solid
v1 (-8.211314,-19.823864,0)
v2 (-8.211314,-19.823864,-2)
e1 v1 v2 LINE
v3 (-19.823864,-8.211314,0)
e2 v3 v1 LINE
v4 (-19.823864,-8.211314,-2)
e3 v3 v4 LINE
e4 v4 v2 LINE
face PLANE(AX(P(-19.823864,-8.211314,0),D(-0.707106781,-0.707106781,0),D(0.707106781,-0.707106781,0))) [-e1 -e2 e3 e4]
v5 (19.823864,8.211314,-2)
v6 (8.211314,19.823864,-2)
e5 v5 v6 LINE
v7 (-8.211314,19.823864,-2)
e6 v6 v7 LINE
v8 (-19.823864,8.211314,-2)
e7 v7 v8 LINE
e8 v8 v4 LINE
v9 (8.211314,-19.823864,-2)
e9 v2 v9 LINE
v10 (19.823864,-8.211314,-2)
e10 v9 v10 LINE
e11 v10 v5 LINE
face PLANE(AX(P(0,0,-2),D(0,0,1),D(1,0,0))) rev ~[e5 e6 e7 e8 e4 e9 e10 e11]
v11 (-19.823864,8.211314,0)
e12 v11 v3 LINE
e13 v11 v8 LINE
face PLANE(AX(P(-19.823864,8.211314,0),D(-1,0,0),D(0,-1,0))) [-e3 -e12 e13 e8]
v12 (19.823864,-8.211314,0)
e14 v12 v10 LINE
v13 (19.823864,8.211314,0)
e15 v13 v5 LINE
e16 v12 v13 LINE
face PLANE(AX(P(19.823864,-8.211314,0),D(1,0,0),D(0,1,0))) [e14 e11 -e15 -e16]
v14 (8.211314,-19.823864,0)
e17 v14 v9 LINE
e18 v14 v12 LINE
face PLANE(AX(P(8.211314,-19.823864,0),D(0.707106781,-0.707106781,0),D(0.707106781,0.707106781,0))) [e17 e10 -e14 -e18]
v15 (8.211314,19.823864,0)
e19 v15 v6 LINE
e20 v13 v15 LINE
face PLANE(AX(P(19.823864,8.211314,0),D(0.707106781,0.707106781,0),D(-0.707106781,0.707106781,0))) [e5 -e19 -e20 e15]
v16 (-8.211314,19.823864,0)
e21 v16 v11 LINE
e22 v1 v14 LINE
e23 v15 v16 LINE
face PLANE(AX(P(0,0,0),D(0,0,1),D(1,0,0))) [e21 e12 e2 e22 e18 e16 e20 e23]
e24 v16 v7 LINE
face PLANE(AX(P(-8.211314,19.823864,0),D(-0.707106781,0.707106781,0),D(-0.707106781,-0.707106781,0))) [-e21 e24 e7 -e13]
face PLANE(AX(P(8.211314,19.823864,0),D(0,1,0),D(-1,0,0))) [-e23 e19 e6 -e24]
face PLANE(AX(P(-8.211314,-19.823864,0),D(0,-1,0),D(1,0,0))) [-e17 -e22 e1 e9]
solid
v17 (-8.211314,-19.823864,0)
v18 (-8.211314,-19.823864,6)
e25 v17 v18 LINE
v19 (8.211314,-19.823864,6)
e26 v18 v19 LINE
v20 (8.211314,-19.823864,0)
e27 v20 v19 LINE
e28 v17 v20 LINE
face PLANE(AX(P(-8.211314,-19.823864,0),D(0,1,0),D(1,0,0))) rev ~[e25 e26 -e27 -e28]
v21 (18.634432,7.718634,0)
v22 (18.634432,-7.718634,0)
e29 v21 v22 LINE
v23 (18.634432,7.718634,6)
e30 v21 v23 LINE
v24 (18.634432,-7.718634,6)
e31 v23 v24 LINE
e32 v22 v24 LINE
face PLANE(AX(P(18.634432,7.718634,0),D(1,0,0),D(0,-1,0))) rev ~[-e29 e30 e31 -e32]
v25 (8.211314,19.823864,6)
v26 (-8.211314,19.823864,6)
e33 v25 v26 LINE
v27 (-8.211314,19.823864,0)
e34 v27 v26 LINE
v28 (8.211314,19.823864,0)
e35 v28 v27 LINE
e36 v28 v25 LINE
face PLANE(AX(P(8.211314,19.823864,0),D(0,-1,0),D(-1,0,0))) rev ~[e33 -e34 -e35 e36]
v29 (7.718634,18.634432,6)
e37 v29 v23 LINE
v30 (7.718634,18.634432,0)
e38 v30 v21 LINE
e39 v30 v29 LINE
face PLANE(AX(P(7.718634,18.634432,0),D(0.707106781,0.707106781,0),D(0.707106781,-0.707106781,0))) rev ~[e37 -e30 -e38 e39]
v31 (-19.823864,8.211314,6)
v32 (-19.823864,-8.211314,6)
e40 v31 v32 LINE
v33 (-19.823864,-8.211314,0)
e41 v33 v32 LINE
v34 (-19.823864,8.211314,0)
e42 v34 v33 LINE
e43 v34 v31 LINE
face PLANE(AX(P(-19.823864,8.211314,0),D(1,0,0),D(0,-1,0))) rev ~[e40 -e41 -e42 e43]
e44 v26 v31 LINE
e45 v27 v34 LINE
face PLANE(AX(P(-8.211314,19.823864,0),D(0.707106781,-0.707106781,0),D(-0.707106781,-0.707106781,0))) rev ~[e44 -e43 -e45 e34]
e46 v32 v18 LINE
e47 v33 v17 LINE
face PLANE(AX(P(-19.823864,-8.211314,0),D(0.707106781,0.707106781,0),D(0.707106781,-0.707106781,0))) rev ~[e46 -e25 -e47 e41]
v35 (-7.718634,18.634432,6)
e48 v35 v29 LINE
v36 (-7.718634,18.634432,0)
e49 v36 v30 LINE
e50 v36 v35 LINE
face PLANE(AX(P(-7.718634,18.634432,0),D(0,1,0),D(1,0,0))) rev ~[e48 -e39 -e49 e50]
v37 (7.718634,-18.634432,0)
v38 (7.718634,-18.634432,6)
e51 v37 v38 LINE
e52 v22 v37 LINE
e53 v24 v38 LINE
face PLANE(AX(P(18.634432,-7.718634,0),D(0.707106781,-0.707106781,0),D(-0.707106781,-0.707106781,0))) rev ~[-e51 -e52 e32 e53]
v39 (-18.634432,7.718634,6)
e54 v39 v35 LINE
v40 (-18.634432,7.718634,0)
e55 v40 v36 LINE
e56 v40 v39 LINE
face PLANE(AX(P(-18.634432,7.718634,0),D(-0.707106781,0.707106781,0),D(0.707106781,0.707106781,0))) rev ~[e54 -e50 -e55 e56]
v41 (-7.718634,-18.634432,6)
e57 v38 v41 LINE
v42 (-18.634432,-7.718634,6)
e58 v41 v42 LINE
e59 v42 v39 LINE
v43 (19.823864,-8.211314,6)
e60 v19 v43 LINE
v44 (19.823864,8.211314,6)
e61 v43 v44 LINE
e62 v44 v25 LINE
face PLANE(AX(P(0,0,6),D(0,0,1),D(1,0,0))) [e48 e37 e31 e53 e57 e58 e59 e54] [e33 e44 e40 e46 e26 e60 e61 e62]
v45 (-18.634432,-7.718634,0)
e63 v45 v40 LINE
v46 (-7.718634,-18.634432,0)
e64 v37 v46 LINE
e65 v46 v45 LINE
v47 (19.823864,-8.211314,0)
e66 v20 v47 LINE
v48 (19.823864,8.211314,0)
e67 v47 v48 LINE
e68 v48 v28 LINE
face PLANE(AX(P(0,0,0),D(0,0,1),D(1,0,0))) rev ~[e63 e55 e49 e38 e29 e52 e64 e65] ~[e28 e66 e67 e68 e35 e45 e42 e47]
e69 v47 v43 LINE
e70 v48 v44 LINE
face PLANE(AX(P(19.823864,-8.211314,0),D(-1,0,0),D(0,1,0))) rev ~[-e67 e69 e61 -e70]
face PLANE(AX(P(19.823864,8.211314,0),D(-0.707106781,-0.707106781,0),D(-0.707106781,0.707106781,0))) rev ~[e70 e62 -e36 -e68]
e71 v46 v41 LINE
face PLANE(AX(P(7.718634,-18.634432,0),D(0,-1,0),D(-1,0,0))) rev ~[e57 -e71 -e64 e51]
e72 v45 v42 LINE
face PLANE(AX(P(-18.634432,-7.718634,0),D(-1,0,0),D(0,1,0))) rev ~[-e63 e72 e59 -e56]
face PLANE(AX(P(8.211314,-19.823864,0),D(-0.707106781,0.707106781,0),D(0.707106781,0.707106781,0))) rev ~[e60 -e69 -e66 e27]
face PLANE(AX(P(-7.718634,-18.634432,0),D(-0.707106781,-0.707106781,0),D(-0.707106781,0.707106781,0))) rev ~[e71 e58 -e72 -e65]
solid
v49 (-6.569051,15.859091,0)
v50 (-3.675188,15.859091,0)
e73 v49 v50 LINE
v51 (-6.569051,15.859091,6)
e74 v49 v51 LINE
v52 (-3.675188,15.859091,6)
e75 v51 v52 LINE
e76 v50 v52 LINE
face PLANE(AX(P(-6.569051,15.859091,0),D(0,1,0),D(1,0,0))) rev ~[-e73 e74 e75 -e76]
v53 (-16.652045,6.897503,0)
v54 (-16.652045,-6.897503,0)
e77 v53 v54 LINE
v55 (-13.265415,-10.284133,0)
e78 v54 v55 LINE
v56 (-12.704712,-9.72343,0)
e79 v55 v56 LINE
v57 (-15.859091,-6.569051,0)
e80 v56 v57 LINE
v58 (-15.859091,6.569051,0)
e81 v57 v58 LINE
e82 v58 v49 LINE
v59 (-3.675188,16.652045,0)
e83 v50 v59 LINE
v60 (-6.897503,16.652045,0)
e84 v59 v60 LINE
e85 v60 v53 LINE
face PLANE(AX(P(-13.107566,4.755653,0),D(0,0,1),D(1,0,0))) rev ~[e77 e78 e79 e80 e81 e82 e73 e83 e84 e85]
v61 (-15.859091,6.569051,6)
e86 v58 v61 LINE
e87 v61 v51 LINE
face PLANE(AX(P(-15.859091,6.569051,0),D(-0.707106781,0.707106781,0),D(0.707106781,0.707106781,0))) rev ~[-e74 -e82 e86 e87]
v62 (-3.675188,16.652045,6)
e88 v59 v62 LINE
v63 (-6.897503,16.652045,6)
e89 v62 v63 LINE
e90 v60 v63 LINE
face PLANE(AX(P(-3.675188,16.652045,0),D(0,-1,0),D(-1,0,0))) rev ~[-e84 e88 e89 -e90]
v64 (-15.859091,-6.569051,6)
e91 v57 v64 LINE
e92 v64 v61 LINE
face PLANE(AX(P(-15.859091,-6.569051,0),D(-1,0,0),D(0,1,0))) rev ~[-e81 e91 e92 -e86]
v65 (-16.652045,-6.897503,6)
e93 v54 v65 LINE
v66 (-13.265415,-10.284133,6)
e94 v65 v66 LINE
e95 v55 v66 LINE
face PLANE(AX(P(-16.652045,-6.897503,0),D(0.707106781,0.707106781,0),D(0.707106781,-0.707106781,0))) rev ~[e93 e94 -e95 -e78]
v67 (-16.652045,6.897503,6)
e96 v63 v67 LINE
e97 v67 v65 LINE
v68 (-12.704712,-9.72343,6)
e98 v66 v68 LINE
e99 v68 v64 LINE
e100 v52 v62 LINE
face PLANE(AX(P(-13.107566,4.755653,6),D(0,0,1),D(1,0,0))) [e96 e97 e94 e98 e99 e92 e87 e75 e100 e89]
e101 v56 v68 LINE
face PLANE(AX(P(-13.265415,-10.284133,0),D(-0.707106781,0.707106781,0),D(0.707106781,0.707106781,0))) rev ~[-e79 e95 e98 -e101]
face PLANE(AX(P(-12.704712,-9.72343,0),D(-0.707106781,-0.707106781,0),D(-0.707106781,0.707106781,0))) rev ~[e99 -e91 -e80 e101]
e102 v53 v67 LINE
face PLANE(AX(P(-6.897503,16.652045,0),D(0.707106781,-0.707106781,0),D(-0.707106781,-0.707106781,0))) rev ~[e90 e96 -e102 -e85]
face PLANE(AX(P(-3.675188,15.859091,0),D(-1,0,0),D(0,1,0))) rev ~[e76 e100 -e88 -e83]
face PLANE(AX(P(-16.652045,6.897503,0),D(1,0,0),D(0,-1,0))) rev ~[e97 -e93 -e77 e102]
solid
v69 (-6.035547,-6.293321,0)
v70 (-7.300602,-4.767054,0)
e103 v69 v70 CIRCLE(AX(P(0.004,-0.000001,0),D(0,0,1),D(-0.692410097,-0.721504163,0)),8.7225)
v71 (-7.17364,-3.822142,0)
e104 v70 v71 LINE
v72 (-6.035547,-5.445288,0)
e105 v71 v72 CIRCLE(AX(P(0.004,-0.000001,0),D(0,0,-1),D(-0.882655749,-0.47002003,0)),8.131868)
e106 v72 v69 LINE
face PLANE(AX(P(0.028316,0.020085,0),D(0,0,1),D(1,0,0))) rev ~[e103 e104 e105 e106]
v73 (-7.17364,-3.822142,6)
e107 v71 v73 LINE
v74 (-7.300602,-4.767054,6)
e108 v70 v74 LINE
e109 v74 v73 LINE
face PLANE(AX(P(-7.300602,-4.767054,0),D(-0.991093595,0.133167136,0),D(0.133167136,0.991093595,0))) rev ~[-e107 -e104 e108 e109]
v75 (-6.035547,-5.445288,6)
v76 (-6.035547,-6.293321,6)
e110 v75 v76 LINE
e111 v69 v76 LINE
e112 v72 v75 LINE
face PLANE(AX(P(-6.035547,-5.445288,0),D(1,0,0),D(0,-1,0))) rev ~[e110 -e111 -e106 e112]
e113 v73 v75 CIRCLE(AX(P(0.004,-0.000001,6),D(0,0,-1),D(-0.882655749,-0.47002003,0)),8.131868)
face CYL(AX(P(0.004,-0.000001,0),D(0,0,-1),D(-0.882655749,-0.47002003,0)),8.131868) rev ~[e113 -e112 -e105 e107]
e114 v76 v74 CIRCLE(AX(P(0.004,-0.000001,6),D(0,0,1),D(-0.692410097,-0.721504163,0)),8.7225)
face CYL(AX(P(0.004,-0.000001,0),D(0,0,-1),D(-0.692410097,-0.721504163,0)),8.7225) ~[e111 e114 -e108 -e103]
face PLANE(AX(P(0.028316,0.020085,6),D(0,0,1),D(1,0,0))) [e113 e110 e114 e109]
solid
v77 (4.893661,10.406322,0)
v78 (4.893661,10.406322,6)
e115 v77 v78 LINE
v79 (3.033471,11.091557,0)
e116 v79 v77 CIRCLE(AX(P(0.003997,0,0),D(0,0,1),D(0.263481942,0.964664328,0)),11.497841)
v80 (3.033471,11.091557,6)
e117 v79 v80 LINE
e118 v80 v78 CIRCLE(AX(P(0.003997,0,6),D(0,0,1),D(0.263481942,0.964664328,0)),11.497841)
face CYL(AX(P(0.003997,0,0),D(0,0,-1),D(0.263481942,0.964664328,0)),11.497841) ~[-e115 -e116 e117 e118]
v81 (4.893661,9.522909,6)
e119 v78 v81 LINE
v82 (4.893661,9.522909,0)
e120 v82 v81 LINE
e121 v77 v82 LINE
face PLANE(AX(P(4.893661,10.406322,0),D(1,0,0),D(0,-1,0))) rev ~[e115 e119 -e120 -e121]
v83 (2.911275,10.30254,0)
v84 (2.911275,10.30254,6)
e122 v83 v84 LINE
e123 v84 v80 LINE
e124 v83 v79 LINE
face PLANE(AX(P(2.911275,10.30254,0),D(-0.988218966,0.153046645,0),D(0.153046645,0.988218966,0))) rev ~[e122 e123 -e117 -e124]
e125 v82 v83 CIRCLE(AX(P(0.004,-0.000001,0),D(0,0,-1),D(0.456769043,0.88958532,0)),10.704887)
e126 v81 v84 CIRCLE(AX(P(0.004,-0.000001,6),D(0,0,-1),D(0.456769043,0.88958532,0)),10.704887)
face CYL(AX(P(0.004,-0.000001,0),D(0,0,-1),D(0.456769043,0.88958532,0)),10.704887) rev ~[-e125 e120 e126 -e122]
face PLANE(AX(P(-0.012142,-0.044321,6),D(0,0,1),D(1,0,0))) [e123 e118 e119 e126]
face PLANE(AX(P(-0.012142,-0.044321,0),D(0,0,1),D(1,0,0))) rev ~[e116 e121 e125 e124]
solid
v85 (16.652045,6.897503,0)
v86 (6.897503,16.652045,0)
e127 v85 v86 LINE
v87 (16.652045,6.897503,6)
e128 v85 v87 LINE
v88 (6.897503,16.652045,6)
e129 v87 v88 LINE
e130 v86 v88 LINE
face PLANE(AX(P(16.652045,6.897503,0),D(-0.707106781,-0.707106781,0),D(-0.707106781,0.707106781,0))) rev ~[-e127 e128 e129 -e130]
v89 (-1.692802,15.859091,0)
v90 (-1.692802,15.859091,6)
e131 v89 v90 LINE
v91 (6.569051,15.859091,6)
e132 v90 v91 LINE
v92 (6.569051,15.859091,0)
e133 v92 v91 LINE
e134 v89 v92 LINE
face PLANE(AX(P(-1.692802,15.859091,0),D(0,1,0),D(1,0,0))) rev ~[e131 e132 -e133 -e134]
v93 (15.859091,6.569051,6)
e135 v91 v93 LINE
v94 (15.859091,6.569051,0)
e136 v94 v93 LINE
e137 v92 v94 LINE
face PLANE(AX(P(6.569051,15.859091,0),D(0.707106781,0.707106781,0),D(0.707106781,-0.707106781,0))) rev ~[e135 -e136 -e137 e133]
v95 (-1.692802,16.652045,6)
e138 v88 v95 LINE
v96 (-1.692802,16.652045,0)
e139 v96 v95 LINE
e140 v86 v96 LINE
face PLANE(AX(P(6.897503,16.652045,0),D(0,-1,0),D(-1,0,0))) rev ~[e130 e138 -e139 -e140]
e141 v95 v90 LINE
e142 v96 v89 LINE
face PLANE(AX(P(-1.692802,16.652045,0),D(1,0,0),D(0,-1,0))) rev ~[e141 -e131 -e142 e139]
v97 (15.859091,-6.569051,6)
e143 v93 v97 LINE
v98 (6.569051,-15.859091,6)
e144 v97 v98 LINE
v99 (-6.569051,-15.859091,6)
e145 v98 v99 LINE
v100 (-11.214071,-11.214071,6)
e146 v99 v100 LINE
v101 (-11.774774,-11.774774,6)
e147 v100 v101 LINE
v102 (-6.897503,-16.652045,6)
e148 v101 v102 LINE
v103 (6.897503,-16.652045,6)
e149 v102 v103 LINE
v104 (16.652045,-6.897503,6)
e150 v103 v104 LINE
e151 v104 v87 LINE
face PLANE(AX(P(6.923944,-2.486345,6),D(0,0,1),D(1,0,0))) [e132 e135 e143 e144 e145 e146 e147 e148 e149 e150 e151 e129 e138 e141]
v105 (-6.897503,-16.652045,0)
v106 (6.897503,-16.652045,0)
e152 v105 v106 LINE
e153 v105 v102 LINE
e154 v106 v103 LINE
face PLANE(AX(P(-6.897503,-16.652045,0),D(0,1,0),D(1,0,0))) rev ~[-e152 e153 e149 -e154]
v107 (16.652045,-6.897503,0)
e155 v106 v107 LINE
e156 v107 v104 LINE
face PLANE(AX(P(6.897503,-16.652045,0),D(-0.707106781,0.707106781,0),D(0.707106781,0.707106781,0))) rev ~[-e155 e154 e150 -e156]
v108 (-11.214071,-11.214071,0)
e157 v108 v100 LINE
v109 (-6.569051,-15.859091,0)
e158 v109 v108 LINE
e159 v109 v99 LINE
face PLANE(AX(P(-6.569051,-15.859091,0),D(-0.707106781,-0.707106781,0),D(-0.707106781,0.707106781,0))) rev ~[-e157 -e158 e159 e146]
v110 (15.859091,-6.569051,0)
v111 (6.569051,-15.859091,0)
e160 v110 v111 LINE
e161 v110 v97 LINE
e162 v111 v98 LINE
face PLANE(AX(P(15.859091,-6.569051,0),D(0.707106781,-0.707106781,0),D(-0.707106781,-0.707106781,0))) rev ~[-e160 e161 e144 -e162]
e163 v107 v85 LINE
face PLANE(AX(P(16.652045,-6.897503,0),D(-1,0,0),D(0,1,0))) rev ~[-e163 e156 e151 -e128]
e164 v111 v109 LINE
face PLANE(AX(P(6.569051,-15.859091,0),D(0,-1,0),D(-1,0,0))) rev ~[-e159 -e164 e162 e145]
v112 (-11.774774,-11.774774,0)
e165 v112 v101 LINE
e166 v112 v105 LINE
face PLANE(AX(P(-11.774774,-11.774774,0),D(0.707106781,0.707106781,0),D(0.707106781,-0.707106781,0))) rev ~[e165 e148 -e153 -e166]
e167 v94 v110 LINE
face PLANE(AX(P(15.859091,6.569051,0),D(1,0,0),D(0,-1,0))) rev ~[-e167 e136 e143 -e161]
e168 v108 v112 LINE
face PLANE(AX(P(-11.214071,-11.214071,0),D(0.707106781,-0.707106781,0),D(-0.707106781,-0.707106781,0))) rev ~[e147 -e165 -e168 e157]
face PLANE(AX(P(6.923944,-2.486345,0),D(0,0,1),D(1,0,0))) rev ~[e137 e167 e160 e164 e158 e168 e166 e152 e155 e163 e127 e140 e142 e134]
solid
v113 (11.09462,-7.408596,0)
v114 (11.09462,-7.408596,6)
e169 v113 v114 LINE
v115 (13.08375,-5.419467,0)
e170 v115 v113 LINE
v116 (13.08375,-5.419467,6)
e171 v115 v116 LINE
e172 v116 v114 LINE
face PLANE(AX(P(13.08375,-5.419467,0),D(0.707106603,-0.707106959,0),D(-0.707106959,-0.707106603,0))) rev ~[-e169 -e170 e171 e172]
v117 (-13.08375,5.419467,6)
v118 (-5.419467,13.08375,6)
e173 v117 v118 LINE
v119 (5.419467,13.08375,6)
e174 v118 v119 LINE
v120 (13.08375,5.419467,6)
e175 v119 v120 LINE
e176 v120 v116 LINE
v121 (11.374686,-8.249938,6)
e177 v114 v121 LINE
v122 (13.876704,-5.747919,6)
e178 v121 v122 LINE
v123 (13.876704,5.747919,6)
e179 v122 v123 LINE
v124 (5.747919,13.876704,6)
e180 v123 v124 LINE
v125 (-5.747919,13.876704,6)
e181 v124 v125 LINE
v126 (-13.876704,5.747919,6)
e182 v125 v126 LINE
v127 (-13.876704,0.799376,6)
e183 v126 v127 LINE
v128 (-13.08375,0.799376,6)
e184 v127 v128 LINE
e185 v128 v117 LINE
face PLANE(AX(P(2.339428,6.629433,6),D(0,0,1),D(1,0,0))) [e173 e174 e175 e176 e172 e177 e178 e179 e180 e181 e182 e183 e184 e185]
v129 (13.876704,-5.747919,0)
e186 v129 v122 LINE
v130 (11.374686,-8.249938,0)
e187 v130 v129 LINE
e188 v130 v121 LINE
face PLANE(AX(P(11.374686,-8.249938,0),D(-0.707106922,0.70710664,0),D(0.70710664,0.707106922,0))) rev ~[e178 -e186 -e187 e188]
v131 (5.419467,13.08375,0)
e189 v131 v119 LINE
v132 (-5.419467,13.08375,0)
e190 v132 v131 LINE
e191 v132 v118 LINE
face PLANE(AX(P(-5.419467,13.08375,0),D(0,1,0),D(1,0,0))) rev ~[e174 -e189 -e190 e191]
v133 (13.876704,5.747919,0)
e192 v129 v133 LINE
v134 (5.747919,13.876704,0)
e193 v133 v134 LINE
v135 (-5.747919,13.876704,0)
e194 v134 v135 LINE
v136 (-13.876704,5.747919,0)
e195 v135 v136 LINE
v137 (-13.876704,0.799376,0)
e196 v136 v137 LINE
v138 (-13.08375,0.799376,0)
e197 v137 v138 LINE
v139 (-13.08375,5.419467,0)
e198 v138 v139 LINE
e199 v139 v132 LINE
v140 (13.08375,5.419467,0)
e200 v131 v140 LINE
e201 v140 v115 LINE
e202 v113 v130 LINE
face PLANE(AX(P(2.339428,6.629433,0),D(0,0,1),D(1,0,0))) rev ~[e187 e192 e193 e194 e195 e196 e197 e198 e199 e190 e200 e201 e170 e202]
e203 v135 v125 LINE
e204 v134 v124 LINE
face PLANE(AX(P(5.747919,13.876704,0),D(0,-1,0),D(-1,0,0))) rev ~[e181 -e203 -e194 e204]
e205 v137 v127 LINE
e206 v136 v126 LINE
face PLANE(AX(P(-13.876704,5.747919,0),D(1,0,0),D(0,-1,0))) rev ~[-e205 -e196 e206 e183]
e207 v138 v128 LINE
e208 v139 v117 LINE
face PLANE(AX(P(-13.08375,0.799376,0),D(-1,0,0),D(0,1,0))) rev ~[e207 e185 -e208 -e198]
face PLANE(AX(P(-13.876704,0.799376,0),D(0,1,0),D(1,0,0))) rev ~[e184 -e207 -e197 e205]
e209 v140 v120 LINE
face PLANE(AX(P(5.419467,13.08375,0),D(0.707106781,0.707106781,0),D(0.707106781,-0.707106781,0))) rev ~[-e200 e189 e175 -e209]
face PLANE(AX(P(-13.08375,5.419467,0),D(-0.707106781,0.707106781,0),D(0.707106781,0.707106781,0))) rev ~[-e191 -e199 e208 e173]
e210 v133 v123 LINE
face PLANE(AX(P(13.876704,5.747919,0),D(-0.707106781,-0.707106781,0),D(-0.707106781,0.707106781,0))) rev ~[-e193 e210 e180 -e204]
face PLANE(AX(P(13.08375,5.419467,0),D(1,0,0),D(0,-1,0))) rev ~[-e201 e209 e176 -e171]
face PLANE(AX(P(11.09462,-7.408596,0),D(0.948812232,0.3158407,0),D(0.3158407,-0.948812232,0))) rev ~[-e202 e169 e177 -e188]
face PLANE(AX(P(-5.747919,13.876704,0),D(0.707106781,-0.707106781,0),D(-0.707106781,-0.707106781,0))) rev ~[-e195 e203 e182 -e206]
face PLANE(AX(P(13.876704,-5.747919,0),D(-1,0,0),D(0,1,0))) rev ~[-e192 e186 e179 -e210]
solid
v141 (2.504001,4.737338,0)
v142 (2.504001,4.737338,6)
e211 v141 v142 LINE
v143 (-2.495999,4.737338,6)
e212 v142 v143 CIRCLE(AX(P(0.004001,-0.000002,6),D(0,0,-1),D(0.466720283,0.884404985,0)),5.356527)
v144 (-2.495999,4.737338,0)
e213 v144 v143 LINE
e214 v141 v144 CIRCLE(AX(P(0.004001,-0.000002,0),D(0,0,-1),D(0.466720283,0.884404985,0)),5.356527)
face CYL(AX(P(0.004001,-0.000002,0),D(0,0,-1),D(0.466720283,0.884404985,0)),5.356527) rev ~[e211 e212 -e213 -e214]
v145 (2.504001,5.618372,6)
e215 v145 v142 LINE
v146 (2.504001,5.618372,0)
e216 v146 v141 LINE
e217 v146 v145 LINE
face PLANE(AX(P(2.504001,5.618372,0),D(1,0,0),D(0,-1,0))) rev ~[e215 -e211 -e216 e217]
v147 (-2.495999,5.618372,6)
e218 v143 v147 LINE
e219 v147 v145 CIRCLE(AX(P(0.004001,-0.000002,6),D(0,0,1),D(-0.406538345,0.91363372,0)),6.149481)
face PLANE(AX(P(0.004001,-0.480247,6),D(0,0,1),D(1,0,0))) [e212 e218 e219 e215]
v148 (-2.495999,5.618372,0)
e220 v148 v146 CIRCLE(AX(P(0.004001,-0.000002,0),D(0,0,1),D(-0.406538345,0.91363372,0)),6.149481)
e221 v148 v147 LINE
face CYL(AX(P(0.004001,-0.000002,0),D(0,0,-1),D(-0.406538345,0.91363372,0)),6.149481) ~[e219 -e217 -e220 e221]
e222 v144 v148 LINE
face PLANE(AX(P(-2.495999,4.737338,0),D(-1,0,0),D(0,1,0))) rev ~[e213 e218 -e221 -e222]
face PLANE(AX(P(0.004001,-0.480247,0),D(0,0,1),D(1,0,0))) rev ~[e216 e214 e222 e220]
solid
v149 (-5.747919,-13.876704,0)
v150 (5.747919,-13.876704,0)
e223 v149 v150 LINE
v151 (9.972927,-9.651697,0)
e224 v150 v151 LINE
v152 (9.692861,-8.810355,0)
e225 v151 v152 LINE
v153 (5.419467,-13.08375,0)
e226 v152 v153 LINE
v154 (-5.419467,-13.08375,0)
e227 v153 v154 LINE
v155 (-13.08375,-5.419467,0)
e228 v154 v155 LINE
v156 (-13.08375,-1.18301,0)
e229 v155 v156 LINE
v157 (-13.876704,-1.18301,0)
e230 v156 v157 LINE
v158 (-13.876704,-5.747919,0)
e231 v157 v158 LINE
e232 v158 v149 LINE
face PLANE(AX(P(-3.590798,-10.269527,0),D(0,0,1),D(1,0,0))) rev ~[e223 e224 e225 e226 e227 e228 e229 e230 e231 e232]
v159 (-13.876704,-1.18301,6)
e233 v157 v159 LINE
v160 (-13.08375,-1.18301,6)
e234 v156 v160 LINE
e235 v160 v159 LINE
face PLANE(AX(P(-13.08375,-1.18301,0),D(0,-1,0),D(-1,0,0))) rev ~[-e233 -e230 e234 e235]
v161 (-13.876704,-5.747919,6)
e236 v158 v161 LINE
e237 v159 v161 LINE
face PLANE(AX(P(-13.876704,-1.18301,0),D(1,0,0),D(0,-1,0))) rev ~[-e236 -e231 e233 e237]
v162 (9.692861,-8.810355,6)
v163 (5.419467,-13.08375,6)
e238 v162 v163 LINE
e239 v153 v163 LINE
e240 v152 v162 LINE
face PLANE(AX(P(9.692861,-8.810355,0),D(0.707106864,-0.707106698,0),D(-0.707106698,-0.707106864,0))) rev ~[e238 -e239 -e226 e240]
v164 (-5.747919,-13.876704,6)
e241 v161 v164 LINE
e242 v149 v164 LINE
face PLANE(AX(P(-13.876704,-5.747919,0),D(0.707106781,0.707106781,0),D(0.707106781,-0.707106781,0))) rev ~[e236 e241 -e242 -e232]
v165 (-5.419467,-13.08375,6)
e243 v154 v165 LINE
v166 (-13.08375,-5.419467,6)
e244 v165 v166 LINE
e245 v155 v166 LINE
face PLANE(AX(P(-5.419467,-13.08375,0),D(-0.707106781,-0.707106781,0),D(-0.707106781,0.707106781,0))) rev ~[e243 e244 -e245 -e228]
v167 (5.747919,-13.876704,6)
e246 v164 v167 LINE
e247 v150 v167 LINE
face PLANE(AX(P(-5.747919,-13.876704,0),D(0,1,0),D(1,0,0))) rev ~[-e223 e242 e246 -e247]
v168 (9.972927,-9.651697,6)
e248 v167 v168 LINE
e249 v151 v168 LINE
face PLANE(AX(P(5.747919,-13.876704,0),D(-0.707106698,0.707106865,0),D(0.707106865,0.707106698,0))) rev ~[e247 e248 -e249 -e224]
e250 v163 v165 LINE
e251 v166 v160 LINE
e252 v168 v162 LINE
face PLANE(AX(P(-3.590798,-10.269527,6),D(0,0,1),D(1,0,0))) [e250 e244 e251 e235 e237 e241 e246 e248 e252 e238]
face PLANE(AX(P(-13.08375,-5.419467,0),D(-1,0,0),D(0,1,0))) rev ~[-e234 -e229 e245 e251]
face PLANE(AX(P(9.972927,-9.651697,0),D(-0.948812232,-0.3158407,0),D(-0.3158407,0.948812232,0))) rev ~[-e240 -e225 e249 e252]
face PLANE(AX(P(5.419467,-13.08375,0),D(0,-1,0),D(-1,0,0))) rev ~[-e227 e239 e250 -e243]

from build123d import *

# Parameters (mm, degrees)
F1_DEPTH = 6
F3_DEPTH = 2


with BuildPart() as f1:
    # F0 (on Top) → F1 (new body)
    with BuildSketch(Plane.XY):
        Polygon((8.211314, 19.823864), (-8.211314, 19.823864), (-19.823864, 8.211314), (-19.823864, -8.211314), (-8.211314, -19.823864), (8.211314, -19.823864), (19.823864, -8.211314), (19.823864, 8.211314), align=None)
        Polygon((-18.634432, -7.718634), (-18.634432, 7.718634), (-7.718634, 18.634432), (7.718634, 18.634432), (18.634432, 7.718634), (18.634432, -7.718634), (7.718634, -18.634432), (-7.718634, -18.634432), align=None, mode=Mode.SUBTRACT)
        Polygon((-16.652045, 6.897503), (-16.652045, -6.897503), (-13.265415, -10.284133), (-12.704712, -9.72343), (-15.859091, -6.569051), (-15.859091, 6.569051), (-6.569051, 15.859091), (-3.675188, 15.859091), (-3.675188, 16.652045), (-6.897503, 16.652045), align=None)
        Polygon((-5.747919, 13.876704), (-13.876704, 5.747919), (-13.876704, 0.799376), (-13.08375, 0.799376), (-13.08375, 5.419467), (-5.419467, 13.08375), (5.419467, 13.08375), (13.08375, 5.419467), (13.08375, -5.419467), (11.09462, -7.408596), (11.374686, -8.249938), (13.876704, -5.747919), (13.876704, 5.747919), (5.747919, 13.876704), align=None)
        with BuildLine():
            Line((2.911275, 10.30254), (3.033471, 11.091557))
            ThreePointArc((3.033471, 11.091557), (-3.97036, -10.789108), (4.893661, 10.406322))
            Line((4.893661, 10.406322), (4.893661, 9.522909))
            ThreePointArc((4.893661, 9.522909), (-3.913907, -9.96216), (2.911275, 10.30254))
        make_face()
        with BuildLine():
            Line((-6.035547, -5.445288), (-6.035547, -6.293321))
            ThreePointArc((-6.035547, -6.293321), (6.719577, 5.56624), (-7.300602, -4.767054))
            Line((-7.300602, -4.767054), (-7.17364, -3.822142))
            ThreePointArc((-7.17364, -3.822142), (6.662241, 4.668522), (-6.035547, -5.445288))
        make_face()
        with BuildLine():
            Line((-2.495999, 4.737338), (-2.495999, 5.618372))
            ThreePointArc((-2.495999, 5.618372), (0.004001, -6.149483), (2.504001, 5.618372))
            Line((2.504001, 5.618372), (2.504001, 4.737338))
            ThreePointArc((2.504001, 4.737338), (0.004001, -5.356529), (-2.495999, 4.737338))
        make_face()
        Polygon((-11.774774, -11.774774), (-6.897503, -16.652045), (6.897503, -16.652045), (16.652045, -6.897503), (16.652045, 6.897503), (6.897503, 16.652045), (-1.692802, 16.652045), (-1.692802, 15.859091), (6.569051, 15.859091), (15.859091, 6.569051), (15.859091, -6.569051), (6.569051, -15.859091), (-6.569051, -15.859091), (-11.214071, -11.214071), align=None)
        Polygon((-13.876704, -1.18301), (-13.876704, -5.747919), (-5.747919, -13.876704), (5.747919, -13.876704), (9.972927, -9.651697), (9.692861, -8.810355), (5.419467, -13.08375), (-5.419467, -13.08375), (-13.08375, -5.419467), (-13.08375, -1.18301), align=None)
    extrude(amount=F1_DEPTH)


with BuildPart() as f3:
    # F2 (on Top) → F3 (new body)
    with BuildSketch(Plane.XY):
        Polygon((8.211314, -19.823864), (19.823864, -8.211314), (19.823864, 8.211314), (8.211314, 19.823864), (-8.211314, 19.823864), (-19.823864, 8.211314), (-19.823864, -8.211314), (-8.211314, -19.823864), align=None)
    extrude(amount=-F3_DEPTH)


solid = Compound([f1.part, f3.part])
